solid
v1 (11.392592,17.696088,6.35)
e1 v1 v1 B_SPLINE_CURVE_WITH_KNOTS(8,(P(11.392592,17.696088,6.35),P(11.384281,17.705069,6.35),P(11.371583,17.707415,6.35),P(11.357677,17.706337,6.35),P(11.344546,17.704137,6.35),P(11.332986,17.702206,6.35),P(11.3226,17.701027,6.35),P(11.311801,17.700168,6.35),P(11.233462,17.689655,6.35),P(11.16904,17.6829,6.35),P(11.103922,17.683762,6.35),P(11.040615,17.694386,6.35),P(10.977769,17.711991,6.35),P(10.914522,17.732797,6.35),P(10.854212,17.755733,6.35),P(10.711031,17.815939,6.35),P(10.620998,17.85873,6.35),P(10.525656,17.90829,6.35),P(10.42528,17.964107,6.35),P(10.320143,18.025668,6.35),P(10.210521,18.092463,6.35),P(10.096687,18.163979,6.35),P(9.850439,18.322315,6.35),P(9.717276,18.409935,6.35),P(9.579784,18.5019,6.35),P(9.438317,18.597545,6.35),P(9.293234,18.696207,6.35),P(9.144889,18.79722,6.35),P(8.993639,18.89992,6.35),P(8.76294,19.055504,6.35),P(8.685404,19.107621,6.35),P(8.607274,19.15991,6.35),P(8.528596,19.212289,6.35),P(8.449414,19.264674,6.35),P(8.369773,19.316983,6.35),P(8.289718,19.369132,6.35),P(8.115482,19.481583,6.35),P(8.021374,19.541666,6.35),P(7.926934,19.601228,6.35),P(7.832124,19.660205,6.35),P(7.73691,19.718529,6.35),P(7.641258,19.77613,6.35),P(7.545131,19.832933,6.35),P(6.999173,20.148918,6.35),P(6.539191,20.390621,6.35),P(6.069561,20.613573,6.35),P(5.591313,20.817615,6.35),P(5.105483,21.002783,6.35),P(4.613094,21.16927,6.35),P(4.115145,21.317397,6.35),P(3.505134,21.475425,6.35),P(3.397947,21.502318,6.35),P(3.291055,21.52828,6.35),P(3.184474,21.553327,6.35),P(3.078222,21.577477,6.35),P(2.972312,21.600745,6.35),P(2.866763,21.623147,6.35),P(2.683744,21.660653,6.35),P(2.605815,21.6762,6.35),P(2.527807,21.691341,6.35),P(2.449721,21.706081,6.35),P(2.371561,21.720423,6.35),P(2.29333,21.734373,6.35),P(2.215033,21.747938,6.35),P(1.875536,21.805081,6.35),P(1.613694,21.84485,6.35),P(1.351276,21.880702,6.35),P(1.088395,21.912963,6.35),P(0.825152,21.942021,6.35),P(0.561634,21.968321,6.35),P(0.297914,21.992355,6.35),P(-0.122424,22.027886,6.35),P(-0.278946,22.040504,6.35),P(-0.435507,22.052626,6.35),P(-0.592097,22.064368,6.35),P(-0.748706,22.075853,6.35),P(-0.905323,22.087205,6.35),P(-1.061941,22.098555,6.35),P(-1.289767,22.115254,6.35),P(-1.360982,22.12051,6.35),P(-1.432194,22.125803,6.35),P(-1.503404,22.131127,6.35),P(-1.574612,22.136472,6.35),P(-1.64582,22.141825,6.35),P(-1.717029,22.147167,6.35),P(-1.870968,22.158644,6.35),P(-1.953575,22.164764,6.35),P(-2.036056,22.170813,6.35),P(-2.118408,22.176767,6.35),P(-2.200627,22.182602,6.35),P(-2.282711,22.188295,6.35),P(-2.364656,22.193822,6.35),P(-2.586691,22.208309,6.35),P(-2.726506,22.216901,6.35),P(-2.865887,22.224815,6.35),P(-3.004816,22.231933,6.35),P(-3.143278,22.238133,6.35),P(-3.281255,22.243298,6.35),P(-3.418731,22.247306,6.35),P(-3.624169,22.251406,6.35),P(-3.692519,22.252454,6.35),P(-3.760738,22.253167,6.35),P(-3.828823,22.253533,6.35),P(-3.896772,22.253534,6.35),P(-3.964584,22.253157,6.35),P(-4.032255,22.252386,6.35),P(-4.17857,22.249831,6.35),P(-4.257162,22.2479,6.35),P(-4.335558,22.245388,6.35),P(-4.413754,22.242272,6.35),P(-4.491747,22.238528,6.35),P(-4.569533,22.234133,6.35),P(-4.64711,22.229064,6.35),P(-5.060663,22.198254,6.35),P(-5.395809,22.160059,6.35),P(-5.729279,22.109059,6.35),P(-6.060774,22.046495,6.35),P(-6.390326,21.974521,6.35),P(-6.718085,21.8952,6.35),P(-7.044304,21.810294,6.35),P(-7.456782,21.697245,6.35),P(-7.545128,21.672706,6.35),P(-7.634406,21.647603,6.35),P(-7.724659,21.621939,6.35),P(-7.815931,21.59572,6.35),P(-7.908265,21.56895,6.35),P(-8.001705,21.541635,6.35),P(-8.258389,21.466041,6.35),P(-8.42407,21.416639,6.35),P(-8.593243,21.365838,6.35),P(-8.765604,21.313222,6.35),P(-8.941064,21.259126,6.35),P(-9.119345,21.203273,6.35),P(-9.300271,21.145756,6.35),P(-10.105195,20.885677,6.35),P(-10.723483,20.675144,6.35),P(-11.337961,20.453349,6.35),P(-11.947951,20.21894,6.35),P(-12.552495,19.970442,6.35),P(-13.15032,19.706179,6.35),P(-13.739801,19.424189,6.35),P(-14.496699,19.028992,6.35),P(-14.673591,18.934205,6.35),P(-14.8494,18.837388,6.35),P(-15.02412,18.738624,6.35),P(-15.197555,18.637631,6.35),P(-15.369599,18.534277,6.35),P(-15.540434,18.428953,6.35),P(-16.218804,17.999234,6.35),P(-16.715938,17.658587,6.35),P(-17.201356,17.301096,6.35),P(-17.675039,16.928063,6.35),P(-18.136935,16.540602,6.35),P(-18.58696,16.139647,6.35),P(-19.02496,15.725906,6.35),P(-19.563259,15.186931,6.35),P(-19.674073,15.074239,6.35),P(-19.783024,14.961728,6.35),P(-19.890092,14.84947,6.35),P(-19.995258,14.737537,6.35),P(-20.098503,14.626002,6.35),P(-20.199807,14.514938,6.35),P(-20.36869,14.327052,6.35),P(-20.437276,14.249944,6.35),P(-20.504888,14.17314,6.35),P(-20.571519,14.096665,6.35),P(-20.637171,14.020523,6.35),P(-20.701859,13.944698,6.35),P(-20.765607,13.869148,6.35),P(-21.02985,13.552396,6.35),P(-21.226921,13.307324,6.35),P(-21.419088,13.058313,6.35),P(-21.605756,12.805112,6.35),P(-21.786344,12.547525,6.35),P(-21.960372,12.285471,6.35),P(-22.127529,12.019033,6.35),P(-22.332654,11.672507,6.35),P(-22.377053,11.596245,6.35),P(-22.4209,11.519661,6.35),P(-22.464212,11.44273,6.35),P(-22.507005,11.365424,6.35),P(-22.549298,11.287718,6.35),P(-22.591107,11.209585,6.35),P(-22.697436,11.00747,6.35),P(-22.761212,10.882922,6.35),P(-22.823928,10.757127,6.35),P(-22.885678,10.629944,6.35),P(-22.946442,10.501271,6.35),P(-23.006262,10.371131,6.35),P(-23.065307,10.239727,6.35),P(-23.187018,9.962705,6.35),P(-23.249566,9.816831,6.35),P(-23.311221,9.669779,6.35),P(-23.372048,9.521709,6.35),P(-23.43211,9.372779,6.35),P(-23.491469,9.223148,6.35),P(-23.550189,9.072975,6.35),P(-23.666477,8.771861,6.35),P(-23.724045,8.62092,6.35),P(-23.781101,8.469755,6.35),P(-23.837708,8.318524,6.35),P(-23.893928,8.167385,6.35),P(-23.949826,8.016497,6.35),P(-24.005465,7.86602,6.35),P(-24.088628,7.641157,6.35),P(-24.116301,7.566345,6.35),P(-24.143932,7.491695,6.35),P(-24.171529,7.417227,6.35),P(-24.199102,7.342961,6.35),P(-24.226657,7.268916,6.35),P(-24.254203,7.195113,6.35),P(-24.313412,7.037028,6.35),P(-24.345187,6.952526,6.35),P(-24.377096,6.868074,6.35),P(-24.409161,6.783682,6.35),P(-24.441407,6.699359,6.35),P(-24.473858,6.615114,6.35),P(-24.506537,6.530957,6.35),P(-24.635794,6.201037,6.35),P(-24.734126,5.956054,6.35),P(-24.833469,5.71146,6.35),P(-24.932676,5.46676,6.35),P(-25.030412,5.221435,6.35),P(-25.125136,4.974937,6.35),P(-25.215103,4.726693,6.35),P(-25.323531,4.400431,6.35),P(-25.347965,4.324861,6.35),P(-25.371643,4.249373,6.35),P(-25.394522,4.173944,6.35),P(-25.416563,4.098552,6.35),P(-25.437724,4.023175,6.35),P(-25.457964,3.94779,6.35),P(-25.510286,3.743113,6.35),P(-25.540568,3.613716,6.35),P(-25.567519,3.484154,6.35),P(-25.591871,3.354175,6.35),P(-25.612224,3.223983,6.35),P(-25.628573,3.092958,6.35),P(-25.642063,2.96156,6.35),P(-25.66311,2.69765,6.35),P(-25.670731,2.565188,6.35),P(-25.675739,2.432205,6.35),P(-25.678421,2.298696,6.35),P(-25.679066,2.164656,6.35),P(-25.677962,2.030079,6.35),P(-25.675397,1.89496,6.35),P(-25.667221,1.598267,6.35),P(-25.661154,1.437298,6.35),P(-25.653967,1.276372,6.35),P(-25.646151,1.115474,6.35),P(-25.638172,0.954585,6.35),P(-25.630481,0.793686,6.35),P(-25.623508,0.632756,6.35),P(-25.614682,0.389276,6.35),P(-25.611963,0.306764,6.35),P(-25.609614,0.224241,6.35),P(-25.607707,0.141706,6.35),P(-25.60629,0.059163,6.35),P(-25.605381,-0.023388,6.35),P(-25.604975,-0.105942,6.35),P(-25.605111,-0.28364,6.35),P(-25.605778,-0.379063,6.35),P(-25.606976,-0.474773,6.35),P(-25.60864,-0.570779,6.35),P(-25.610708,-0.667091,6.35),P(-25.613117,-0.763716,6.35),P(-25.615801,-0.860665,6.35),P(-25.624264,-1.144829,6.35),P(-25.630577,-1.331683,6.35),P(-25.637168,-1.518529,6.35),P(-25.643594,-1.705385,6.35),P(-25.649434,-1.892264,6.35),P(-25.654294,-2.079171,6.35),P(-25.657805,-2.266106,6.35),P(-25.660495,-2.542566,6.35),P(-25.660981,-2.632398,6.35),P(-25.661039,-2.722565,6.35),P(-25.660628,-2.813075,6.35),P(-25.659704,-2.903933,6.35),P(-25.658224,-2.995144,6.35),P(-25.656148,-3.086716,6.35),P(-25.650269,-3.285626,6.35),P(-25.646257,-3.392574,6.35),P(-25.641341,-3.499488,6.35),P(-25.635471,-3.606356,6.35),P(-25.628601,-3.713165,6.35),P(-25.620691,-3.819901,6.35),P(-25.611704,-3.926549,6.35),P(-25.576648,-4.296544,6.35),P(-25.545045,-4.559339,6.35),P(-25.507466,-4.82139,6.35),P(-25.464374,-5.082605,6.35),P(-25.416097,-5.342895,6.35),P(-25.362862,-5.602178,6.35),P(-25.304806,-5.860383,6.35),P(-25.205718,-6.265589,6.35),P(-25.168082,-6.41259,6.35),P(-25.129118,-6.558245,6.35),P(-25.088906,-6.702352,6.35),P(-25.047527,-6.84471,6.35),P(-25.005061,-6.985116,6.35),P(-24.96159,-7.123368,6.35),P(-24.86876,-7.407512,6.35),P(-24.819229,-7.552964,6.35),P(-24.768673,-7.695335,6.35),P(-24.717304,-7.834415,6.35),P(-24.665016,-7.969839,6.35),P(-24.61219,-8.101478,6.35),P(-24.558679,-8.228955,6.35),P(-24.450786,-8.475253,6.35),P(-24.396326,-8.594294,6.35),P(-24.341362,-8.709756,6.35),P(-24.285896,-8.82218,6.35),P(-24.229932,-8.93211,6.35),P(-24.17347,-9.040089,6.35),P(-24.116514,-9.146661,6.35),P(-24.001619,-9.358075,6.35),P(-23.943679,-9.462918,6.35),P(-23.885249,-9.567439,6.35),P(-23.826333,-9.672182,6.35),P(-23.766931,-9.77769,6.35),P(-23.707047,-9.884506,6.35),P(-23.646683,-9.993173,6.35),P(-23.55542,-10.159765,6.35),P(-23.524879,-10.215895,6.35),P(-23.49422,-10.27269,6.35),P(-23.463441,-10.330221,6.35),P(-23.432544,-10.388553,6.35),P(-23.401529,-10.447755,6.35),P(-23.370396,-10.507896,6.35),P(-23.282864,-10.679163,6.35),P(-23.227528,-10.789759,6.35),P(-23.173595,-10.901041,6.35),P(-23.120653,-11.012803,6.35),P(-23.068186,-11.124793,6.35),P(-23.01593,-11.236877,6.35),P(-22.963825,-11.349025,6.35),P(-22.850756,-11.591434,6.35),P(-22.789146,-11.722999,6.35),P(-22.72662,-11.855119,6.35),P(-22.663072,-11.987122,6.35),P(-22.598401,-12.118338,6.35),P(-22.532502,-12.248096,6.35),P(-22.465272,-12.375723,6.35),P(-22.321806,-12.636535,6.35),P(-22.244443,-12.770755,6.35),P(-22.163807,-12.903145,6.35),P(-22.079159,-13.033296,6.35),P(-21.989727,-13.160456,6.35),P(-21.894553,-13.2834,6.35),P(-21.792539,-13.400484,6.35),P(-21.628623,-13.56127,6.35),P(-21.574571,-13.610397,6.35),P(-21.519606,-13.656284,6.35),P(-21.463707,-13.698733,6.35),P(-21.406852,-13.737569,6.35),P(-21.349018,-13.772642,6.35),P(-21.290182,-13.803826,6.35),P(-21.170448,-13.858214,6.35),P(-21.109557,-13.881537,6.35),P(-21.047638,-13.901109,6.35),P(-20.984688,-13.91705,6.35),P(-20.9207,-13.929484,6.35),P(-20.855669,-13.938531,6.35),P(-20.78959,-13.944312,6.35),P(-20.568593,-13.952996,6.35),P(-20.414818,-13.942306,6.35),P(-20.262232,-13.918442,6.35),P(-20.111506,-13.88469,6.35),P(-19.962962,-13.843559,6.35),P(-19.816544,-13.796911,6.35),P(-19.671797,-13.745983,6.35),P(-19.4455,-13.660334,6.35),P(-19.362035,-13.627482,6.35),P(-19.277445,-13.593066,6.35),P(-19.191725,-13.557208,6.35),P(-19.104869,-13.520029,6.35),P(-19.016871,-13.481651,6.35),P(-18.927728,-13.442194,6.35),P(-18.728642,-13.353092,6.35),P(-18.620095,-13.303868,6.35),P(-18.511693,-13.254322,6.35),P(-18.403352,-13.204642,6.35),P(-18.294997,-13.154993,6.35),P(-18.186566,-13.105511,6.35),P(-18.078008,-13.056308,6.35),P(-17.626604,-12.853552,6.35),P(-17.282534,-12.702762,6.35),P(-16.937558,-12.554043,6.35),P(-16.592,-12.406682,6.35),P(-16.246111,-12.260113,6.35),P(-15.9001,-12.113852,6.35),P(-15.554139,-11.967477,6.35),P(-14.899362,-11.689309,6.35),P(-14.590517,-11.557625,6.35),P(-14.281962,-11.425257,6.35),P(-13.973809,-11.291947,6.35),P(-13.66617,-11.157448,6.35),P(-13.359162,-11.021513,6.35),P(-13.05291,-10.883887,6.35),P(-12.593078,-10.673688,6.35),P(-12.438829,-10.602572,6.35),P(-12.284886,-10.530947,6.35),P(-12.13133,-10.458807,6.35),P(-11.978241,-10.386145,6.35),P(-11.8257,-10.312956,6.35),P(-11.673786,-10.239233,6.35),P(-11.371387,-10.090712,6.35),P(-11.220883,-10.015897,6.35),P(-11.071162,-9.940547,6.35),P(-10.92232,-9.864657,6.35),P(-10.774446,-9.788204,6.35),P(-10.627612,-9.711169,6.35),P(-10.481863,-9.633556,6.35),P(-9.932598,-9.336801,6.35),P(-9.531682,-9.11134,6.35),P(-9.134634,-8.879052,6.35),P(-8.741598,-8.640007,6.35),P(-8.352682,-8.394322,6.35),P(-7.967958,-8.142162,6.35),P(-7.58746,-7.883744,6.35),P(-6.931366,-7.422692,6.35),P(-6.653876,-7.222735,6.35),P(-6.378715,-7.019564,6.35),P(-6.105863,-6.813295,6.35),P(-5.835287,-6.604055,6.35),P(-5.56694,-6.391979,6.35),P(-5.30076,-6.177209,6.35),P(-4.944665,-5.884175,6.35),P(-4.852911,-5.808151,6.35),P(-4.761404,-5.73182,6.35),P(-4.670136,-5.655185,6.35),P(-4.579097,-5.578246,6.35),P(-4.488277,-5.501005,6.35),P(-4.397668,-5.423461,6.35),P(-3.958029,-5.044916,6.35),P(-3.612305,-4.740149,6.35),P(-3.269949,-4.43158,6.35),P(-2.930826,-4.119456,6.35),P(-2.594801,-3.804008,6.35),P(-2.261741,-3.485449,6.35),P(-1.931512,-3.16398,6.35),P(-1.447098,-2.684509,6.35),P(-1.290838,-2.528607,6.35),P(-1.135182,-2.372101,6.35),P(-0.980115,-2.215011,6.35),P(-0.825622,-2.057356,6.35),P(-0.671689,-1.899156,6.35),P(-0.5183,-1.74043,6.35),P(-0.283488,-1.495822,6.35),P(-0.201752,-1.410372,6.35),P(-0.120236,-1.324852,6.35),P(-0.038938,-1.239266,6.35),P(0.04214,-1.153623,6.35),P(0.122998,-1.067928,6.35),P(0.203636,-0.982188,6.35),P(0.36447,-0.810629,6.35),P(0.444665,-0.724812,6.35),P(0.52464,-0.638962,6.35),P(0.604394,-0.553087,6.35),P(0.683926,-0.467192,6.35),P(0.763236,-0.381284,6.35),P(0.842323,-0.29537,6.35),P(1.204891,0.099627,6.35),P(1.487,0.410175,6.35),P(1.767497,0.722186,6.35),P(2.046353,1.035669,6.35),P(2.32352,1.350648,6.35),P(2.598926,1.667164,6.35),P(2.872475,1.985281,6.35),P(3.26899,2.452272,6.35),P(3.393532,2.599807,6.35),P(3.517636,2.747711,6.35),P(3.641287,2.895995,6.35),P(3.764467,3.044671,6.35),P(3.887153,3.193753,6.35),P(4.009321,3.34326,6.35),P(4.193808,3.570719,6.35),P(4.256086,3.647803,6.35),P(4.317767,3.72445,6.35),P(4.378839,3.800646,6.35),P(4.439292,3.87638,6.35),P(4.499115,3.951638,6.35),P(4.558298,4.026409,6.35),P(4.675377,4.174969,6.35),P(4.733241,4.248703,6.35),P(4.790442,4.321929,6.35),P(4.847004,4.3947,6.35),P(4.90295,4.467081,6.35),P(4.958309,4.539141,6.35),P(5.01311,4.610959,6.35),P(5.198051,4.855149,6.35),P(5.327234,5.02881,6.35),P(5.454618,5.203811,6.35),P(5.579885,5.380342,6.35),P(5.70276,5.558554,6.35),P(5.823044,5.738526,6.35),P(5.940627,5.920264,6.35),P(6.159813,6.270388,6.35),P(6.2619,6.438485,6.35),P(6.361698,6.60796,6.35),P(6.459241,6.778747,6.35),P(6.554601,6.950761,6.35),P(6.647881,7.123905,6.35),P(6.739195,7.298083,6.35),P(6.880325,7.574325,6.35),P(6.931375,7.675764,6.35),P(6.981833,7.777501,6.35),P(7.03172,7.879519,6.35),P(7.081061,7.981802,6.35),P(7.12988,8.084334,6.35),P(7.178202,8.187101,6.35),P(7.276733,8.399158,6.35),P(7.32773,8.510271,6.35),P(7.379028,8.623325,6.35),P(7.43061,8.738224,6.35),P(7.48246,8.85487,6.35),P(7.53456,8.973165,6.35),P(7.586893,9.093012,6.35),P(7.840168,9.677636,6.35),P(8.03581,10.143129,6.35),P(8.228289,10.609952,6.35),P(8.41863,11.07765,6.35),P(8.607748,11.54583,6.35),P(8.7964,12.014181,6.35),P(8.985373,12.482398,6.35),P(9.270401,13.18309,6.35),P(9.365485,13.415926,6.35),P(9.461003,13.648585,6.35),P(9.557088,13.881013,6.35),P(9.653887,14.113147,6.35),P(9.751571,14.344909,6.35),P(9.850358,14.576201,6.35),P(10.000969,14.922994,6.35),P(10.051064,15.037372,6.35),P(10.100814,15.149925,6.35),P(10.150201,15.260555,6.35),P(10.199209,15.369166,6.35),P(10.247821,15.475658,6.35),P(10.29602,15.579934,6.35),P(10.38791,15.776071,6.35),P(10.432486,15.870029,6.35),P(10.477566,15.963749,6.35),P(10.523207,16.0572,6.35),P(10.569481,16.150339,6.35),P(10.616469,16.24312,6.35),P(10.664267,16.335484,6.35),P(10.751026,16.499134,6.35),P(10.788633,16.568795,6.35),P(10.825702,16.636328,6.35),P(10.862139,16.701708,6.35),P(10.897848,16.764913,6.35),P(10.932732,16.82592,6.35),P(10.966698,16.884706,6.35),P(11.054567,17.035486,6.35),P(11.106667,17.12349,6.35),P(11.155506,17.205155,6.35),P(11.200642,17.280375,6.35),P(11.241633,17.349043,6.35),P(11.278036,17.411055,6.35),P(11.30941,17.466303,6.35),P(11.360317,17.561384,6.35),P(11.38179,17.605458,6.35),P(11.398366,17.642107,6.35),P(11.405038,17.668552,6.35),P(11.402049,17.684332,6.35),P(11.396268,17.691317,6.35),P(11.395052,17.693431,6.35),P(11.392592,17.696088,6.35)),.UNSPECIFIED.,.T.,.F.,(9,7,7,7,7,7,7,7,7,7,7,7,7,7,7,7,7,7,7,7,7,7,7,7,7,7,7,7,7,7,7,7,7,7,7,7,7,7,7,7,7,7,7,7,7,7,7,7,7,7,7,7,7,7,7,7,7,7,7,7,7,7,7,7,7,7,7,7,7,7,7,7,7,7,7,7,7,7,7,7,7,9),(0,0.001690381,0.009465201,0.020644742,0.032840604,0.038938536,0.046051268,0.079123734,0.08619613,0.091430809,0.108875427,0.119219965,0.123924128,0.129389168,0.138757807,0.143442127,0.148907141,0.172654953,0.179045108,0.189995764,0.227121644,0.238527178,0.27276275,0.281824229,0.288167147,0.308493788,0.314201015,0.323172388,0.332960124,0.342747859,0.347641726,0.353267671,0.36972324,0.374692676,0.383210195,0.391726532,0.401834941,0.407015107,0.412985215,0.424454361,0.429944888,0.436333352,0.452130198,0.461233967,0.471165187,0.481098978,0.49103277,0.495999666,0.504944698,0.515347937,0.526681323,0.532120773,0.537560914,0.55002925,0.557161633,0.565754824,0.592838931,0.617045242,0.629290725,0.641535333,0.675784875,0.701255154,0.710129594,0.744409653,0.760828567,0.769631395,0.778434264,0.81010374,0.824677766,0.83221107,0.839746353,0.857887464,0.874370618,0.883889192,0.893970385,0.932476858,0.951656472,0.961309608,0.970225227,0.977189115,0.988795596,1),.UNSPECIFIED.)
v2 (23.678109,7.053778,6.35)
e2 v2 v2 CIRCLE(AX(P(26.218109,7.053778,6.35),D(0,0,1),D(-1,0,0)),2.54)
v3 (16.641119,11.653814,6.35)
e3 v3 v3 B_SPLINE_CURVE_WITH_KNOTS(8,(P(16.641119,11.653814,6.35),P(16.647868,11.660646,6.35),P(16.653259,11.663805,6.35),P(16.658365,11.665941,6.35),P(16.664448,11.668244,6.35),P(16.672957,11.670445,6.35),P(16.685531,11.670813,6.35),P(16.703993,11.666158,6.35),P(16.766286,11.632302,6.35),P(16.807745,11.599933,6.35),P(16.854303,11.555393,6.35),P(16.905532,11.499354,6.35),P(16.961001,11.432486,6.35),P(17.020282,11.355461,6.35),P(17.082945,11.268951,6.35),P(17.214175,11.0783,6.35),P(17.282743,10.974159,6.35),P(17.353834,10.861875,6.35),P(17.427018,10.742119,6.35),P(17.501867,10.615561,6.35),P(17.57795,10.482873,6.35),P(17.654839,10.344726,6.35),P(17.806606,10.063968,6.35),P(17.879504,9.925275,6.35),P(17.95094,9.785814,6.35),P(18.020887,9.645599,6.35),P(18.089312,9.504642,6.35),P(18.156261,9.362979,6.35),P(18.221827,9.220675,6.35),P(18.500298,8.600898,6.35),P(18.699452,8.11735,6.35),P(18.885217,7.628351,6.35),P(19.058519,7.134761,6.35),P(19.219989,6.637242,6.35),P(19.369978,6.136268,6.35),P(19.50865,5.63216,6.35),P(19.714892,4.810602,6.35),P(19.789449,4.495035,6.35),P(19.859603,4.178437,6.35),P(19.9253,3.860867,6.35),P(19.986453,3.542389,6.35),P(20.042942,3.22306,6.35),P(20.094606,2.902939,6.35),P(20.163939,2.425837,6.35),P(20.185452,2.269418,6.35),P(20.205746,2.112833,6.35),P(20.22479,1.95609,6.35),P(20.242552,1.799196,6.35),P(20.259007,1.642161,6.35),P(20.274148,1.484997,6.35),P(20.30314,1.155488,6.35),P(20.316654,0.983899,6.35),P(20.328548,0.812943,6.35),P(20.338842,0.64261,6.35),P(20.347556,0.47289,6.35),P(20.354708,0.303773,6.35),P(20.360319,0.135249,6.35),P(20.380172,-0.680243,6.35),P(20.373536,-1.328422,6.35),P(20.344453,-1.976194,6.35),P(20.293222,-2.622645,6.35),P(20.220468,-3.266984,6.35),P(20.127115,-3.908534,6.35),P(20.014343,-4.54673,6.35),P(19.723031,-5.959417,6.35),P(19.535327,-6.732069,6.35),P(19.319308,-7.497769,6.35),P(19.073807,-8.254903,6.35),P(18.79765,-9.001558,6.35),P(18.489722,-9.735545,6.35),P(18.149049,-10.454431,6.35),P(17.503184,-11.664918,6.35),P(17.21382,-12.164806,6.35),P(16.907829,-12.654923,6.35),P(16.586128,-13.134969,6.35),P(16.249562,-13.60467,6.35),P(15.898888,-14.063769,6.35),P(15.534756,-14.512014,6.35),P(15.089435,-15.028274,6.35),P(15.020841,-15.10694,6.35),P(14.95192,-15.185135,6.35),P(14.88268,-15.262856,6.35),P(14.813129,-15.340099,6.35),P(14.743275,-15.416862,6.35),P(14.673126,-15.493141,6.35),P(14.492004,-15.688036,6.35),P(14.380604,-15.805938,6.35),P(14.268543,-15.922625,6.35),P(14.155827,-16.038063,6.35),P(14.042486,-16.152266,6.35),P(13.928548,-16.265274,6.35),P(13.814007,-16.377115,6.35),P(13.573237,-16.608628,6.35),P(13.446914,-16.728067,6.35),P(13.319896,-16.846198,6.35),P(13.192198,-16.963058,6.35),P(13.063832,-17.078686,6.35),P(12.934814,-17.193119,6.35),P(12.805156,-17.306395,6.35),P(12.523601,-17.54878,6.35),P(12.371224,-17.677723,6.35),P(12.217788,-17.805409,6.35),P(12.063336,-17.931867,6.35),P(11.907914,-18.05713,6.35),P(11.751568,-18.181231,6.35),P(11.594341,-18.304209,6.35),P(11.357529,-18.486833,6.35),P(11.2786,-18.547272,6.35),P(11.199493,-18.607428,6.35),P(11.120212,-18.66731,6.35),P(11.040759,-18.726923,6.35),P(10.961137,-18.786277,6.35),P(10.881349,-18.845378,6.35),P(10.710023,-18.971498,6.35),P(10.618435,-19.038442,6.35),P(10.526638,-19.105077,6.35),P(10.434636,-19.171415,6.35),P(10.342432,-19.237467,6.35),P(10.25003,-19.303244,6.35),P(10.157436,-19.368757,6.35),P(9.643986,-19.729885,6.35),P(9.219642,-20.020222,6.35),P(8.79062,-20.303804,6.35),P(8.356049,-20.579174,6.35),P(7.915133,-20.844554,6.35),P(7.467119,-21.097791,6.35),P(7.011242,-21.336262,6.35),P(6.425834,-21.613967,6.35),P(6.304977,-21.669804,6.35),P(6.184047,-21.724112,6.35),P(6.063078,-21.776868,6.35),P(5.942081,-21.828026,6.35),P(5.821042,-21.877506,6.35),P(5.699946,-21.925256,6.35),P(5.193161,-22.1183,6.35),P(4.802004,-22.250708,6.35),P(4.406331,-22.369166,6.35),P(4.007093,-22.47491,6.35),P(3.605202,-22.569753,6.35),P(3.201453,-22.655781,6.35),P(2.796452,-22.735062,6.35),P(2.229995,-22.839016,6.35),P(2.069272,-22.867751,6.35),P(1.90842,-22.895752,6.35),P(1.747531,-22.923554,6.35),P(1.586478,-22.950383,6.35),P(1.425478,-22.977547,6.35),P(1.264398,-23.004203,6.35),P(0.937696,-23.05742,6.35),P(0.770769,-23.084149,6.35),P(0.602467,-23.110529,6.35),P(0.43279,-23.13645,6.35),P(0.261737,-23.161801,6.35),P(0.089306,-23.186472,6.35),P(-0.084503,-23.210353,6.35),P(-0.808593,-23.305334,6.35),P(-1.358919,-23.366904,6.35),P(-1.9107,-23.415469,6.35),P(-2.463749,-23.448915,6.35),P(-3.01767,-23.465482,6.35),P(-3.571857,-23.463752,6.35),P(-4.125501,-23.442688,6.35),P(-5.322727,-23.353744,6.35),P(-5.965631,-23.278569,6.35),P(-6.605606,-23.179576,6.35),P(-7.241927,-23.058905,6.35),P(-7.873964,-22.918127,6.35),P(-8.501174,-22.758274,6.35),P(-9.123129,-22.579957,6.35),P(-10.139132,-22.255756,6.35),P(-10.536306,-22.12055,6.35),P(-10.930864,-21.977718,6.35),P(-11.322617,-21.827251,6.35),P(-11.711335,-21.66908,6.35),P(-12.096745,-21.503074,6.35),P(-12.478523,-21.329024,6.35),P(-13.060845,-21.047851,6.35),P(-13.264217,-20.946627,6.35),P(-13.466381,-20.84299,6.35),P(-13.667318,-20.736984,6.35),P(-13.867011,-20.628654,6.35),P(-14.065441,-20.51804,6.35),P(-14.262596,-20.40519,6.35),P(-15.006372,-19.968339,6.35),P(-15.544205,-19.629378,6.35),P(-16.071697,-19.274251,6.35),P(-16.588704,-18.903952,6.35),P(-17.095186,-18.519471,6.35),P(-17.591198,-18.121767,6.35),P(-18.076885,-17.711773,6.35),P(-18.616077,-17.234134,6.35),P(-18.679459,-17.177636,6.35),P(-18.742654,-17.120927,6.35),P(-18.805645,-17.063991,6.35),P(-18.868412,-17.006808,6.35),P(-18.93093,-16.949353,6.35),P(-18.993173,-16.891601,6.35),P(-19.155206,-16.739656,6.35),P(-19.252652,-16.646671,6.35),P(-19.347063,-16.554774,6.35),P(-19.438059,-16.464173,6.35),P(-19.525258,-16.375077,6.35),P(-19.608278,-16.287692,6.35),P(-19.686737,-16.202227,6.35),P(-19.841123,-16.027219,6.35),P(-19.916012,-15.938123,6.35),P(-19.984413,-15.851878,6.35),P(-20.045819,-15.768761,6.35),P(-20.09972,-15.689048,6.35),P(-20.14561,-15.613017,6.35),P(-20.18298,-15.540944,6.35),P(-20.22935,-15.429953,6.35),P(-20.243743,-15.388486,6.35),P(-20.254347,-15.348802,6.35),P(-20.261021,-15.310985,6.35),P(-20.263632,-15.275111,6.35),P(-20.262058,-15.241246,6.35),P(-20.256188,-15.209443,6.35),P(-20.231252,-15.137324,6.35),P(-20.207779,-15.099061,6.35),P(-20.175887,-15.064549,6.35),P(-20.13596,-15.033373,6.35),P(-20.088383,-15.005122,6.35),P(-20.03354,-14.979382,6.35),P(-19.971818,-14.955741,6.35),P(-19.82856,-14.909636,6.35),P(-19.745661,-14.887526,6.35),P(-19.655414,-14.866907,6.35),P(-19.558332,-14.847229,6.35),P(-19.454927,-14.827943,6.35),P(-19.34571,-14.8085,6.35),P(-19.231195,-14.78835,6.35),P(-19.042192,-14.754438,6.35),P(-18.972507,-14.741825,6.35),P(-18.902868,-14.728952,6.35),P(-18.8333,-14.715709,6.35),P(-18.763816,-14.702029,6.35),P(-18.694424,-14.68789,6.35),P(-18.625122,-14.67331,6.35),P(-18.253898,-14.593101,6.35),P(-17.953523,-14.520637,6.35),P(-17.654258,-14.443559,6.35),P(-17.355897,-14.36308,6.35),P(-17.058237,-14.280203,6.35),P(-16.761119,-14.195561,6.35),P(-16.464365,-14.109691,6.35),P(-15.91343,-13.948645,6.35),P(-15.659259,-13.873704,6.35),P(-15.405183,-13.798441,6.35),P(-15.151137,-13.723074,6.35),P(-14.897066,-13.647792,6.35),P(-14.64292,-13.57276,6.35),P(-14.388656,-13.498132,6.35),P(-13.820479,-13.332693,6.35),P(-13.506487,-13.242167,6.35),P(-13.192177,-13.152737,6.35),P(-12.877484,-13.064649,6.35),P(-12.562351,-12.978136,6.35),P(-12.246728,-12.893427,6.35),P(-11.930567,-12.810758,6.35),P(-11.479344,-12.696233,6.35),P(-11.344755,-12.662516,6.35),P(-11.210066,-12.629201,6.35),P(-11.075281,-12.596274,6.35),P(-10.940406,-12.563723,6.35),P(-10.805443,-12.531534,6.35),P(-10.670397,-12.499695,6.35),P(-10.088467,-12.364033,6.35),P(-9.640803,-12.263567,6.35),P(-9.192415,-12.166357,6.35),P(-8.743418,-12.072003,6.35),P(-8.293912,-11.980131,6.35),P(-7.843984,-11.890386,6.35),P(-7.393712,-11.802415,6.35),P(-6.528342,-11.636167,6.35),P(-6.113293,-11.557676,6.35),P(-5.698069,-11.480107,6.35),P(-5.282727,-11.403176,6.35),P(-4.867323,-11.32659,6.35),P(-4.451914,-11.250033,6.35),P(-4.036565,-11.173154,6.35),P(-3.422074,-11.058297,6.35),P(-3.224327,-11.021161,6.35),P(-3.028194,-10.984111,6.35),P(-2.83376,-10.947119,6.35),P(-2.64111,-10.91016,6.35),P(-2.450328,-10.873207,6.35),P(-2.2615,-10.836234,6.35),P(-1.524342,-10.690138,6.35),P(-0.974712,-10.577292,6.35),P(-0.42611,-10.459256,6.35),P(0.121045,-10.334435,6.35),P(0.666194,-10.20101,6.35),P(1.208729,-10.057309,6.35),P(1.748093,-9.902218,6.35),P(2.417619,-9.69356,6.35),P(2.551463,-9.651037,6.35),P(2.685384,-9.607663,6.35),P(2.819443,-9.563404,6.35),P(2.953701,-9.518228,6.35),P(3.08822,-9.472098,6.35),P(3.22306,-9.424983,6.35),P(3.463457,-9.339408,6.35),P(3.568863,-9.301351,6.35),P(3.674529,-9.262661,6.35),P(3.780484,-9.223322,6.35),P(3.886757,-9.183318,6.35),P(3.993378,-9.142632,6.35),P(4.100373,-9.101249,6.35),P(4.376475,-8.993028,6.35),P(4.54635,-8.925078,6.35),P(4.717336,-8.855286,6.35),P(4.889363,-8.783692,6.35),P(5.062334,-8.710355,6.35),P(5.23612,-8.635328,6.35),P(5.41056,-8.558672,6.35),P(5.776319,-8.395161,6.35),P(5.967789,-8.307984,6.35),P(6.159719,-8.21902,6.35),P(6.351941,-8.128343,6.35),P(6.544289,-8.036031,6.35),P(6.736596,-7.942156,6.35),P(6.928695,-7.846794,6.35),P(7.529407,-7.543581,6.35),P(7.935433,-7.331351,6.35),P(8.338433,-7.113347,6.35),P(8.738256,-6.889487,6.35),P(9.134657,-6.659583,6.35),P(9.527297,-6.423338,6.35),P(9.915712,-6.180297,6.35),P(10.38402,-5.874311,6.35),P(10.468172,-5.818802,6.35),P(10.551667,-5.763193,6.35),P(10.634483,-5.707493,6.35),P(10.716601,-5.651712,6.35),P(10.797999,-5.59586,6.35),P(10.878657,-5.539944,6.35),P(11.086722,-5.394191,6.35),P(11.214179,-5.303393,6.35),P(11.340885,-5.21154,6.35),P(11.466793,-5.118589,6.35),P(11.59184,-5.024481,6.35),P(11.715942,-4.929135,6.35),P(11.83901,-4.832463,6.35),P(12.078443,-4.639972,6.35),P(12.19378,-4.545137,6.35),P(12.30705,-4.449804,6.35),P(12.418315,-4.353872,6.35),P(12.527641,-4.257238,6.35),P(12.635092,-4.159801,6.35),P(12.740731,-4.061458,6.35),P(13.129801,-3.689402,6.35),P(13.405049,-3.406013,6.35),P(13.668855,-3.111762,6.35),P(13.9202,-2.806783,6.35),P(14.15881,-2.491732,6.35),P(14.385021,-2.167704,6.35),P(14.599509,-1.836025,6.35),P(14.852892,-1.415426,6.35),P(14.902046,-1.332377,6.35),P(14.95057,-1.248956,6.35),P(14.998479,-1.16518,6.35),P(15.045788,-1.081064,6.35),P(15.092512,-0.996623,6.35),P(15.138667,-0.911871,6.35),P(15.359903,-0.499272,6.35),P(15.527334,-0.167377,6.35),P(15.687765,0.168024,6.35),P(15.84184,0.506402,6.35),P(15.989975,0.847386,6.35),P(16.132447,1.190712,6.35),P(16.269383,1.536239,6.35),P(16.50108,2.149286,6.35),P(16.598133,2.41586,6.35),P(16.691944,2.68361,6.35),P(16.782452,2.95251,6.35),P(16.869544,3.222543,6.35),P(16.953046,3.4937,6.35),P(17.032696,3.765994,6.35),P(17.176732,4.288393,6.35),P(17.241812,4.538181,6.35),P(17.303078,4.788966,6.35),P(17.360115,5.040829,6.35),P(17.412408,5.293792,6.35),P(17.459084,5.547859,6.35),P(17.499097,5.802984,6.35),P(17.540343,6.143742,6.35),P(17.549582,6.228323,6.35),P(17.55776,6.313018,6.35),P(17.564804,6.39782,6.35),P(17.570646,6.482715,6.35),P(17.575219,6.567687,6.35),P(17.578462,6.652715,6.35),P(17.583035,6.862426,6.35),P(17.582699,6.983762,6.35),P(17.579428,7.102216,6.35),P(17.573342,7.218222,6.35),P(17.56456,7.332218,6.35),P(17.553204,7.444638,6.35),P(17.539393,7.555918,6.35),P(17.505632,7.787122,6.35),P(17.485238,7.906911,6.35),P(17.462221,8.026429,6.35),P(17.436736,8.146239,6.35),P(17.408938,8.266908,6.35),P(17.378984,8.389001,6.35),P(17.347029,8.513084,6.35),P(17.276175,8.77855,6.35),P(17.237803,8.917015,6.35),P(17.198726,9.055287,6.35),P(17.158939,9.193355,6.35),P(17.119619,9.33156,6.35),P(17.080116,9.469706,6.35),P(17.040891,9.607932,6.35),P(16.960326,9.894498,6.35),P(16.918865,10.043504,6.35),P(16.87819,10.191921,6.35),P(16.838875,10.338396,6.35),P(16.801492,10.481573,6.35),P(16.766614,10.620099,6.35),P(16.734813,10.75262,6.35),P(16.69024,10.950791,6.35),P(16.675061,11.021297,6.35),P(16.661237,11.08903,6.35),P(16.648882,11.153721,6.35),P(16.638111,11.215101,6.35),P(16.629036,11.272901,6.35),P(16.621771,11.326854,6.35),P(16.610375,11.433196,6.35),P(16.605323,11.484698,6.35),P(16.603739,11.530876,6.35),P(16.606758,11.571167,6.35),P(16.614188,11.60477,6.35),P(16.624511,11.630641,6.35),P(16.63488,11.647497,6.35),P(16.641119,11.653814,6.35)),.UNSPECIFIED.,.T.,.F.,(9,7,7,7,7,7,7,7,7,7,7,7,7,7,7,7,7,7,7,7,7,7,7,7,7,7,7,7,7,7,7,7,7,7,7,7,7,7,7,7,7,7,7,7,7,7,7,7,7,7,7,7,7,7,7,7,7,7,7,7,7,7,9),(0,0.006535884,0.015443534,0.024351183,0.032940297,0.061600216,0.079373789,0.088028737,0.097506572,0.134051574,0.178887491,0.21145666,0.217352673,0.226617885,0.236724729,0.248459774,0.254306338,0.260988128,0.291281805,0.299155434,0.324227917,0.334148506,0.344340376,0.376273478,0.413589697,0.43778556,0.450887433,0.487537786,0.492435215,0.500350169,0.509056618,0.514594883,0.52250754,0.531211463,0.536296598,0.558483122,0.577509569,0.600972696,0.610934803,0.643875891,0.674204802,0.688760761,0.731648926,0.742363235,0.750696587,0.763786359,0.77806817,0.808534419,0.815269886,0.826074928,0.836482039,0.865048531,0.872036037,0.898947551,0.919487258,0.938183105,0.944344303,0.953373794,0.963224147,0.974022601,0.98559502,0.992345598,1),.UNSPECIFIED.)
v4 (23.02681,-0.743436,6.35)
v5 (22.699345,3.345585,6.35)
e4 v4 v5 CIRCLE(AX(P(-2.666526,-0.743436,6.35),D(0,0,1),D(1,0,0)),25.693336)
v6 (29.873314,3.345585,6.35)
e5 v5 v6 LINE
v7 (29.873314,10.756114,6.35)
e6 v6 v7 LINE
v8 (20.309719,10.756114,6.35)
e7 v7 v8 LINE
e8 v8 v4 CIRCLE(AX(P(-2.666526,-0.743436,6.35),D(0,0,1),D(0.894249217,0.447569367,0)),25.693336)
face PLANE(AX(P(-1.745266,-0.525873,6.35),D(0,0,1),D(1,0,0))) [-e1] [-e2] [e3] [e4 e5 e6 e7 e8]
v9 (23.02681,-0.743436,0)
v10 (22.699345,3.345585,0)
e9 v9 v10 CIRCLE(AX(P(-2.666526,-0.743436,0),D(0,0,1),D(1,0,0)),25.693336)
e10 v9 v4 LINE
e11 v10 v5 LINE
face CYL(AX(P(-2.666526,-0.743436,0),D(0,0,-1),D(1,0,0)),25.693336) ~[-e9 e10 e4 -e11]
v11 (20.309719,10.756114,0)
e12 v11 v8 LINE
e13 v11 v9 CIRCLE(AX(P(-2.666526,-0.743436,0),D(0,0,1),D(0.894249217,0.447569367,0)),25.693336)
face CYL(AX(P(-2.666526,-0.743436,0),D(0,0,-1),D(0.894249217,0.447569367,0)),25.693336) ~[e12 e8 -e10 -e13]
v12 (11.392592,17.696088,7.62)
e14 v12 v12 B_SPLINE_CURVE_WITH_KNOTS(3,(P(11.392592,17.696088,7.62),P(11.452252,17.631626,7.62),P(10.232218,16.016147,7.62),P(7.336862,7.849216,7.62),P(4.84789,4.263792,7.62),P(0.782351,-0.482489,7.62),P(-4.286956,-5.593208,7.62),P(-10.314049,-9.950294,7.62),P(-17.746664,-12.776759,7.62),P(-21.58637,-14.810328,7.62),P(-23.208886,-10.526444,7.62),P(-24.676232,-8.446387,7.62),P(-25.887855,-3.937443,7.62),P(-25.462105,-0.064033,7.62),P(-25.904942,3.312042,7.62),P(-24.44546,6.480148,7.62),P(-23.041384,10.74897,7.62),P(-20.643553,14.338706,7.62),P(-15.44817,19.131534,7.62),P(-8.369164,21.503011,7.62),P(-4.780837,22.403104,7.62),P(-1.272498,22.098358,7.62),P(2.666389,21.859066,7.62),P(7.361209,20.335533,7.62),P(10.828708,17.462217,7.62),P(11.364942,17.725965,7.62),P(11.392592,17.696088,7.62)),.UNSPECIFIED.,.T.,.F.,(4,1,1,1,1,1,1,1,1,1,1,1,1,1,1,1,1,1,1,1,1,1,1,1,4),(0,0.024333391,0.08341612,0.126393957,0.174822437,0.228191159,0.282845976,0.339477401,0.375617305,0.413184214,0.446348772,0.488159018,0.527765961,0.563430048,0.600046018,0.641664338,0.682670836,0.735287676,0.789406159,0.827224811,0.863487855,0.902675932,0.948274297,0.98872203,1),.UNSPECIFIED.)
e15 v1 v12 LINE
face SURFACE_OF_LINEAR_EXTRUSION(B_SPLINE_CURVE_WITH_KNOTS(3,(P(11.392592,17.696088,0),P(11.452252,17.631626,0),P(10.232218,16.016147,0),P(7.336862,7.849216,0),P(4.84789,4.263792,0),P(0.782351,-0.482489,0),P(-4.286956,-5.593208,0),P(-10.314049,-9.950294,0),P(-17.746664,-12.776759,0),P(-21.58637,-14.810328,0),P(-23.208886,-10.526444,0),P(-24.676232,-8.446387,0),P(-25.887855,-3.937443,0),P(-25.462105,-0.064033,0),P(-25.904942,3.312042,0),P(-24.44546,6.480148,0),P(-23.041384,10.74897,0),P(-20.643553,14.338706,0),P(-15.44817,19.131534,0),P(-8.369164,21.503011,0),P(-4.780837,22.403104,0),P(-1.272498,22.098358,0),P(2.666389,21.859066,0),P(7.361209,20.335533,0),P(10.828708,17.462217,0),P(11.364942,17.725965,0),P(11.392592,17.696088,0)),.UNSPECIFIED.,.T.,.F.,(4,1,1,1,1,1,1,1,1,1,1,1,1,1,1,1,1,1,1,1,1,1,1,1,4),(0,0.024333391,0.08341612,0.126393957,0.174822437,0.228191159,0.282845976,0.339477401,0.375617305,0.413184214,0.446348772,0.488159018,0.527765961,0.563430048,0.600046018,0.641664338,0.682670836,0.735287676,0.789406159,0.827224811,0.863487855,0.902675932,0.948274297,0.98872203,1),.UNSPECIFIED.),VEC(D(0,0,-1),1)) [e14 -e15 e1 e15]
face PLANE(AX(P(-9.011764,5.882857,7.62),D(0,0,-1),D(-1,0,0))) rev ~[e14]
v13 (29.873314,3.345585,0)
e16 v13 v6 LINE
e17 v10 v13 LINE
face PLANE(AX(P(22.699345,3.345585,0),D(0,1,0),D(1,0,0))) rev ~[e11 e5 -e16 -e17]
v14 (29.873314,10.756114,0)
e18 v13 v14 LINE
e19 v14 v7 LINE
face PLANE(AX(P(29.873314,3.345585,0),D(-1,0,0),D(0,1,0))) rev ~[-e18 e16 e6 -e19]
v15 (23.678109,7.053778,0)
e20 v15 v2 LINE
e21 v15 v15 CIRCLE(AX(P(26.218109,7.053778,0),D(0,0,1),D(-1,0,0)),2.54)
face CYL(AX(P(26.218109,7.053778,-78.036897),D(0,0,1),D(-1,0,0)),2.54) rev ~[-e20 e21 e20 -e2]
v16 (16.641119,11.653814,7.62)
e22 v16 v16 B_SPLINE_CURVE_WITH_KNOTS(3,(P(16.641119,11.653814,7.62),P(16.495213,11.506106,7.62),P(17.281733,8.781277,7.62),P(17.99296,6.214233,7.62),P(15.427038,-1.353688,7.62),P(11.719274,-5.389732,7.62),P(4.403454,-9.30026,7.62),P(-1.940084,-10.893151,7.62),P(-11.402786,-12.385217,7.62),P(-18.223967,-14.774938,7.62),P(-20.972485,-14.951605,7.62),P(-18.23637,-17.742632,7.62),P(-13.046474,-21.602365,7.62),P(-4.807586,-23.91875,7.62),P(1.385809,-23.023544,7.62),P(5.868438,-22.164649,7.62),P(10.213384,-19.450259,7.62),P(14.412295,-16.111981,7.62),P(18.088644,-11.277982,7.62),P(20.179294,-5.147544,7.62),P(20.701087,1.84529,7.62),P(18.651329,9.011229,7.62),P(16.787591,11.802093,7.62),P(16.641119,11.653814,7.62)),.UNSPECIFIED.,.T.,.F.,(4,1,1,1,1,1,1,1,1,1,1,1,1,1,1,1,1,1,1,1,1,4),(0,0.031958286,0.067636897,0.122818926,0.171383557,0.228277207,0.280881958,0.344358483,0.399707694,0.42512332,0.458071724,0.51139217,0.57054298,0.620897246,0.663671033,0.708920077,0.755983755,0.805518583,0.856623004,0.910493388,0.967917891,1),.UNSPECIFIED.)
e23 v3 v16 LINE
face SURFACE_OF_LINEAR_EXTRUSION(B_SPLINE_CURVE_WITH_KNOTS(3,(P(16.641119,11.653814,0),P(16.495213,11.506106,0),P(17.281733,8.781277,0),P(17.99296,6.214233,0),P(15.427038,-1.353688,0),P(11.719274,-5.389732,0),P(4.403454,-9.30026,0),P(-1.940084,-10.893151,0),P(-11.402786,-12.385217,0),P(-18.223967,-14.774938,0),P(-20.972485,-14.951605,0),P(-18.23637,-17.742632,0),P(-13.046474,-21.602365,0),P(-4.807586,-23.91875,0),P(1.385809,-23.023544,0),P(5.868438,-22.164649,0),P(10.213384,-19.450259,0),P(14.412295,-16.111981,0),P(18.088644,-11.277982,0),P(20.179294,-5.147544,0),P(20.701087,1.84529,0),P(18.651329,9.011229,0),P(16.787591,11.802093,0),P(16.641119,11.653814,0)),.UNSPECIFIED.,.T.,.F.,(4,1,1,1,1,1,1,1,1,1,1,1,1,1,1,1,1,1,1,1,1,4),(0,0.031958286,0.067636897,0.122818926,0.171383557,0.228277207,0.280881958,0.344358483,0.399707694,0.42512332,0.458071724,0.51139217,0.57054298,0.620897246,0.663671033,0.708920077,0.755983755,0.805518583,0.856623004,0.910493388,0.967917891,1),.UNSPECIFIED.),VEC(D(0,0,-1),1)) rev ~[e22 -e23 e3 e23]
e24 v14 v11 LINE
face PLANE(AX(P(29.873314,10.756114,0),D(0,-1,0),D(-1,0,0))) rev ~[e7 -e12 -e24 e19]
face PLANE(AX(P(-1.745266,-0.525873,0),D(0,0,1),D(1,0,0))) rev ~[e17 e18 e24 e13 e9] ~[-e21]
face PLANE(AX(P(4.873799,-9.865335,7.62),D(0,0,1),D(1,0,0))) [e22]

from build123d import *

# Parameters (mm, degrees)
F2_DEPTH = 7.62
F3_DEPTH = 6.35
F4_D     = 5.08


with BuildPart() as f2:
    # F0 (on Top) → F2 (new body)
    with BuildSketch(Plane.XY):
        with BuildLine():
            add(Edge.make_bspline(
                [(11.3925924525, 17.6960881799), (11.4522522271, 17.6316256109), (10.2322182088, 16.0161467643), (7.3368616857, 7.849215981), (4.8478897095, 4.2637920506), (0.782350841, -0.4824891286), (-4.2869563606, -5.5932078406), (-10.3140487718, -9.9502935727), (-17.7466644271, -12.7767589247), (-21.5863698426, -14.8103281471), (-23.2088860472, -10.5264443026), (-24.6762324783, -8.4463871505), (-25.8878547315, -3.9374434033), (-25.4621052529, -0.0640328366), (-25.9049420955, 3.3120423058), (-24.4454604734, 6.4801479172), (-23.0413839958, 10.7489704578), (-20.6435530335, 14.3387062486), (-15.4481695001, 19.1315336144), (-8.3691642114, 21.5030113717), (-4.7808371416, 22.4031037903), (-1.2724982435, 22.0983579931), (2.6663893577, 21.8590663748), (7.3612089943, 20.3355328943), (10.8287082301, 17.4622169589), (11.3649415118, 17.7259651059), (11.3925924525, 17.6960881799)],
                knots=[0, 0, 0, 0, 0.0243333914, 0.0834161199, 0.1263939574, 0.174822437, 0.2281911591, 0.2828459756, 0.3394774008, 0.3756173055, 0.4131842142, 0.446348772, 0.4881590181, 0.5277659611, 0.563430048, 0.6000460178, 0.6416643383, 0.6826708363, 0.7352876759, 0.7894061593, 0.8272248113, 0.8634878554, 0.9026759321, 0.9482742966, 0.9887220298, 1, 1, 1, 1], degree=3))
        make_face()
    extrude(amount=F2_DEPTH)



with BuildPart() as f2b:
    # F0 (on Top) → F2, piece 2 (new body)
    with BuildSketch(Plane.XY):
        with BuildLine():
            add(Edge.make_bspline(
                [(16.641119495, 11.6538135335), (16.4952132012, 11.5061059532), (17.2817326312, 8.7812772647), (17.9929596599, 6.2142330274), (15.4270380487, -1.3536883497), (11.7192736658, -5.3897319121), (4.403453858, -9.3002603402), (-1.9400838465, -10.893150571), (-11.4027863634, -12.3852173813), (-18.2239671871, -14.7749376238), (-20.9724852679, -14.9516052994), (-18.2363704978, -17.7426323853), (-13.0464742137, -21.6023653407), (-4.807585734, -23.918750216), (1.3858091553, -23.0235440632), (5.8684376604, -22.1646485244), (10.2133839763, -19.4502588846), (14.4122948719, -16.1119806131), (18.0886438515, -11.2779818899), (20.1792944174, -5.1475439728), (20.7010865509, 1.845290411), (18.6513287997, 9.0112292063), (16.7875911075, 11.8020934115), (16.641119495, 11.6538135335)],
                knots=[0, 0, 0, 0, 0.031958286, 0.0676368966, 0.1228189259, 0.1713835567, 0.228277207, 0.2808819576, 0.344358483, 0.3997076941, 0.4251233199, 0.4580717239, 0.51139217, 0.57054298, 0.6208972465, 0.6636710334, 0.7089200768, 0.755983755, 0.8055185834, 0.8566230042, 0.9104933882, 0.9679178906, 1, 1, 1, 1], degree=3))
        make_face()
    extrude(amount=F2_DEPTH)


with BuildPart() as f2_1:
    add(f2.part)

    add(f2b.part)  # F3 merges F2b
    # F1 (on Top) → F3 (join)
    with BuildSketch(Plane.XY):
        with BuildLine():
            ThreePointArc((20.3097191966, 10.7561138723), (-27.6713649091, -6.6515288305), (23.0268095968, -0.7434362287))
            ThreePointArc((23.0268095968, -0.7434362287), (22.9448125489, 1.3076200549), (22.6993447716, 3.3455849625))
            ThreePointArc((22.6993447716, 3.3455849625), (21.786879255, 7.1418961251), (20.3097191966, 10.7561138723))
        make_face()
        with BuildLine():
            ThreePointArc((20.3097191966, 10.7561138723), (21.786879255, 7.1418961251), (22.6993447716, 3.3455849625))
            Line((22.6993447716, 3.3455849625), (29.8733139458, 3.3455849625))
            Line((29.8733139458, 3.3455849625), (29.8733139458, 10.7561138723))
            Line((29.8733139458, 10.7561138723), (20.3097191966, 10.7561138723))
        make_face()
    extrude(amount=F3_DEPTH)

    # F4 (through all)
    with Locations(Plane(origin=(0, 0, 0), x_dir=(1, 0, 0), z_dir=(0, 0, -1))):
        with Locations((26.2181088328, -7.0537775755)):
            Hole(F4_D / 2)


solid = f2_1.part
